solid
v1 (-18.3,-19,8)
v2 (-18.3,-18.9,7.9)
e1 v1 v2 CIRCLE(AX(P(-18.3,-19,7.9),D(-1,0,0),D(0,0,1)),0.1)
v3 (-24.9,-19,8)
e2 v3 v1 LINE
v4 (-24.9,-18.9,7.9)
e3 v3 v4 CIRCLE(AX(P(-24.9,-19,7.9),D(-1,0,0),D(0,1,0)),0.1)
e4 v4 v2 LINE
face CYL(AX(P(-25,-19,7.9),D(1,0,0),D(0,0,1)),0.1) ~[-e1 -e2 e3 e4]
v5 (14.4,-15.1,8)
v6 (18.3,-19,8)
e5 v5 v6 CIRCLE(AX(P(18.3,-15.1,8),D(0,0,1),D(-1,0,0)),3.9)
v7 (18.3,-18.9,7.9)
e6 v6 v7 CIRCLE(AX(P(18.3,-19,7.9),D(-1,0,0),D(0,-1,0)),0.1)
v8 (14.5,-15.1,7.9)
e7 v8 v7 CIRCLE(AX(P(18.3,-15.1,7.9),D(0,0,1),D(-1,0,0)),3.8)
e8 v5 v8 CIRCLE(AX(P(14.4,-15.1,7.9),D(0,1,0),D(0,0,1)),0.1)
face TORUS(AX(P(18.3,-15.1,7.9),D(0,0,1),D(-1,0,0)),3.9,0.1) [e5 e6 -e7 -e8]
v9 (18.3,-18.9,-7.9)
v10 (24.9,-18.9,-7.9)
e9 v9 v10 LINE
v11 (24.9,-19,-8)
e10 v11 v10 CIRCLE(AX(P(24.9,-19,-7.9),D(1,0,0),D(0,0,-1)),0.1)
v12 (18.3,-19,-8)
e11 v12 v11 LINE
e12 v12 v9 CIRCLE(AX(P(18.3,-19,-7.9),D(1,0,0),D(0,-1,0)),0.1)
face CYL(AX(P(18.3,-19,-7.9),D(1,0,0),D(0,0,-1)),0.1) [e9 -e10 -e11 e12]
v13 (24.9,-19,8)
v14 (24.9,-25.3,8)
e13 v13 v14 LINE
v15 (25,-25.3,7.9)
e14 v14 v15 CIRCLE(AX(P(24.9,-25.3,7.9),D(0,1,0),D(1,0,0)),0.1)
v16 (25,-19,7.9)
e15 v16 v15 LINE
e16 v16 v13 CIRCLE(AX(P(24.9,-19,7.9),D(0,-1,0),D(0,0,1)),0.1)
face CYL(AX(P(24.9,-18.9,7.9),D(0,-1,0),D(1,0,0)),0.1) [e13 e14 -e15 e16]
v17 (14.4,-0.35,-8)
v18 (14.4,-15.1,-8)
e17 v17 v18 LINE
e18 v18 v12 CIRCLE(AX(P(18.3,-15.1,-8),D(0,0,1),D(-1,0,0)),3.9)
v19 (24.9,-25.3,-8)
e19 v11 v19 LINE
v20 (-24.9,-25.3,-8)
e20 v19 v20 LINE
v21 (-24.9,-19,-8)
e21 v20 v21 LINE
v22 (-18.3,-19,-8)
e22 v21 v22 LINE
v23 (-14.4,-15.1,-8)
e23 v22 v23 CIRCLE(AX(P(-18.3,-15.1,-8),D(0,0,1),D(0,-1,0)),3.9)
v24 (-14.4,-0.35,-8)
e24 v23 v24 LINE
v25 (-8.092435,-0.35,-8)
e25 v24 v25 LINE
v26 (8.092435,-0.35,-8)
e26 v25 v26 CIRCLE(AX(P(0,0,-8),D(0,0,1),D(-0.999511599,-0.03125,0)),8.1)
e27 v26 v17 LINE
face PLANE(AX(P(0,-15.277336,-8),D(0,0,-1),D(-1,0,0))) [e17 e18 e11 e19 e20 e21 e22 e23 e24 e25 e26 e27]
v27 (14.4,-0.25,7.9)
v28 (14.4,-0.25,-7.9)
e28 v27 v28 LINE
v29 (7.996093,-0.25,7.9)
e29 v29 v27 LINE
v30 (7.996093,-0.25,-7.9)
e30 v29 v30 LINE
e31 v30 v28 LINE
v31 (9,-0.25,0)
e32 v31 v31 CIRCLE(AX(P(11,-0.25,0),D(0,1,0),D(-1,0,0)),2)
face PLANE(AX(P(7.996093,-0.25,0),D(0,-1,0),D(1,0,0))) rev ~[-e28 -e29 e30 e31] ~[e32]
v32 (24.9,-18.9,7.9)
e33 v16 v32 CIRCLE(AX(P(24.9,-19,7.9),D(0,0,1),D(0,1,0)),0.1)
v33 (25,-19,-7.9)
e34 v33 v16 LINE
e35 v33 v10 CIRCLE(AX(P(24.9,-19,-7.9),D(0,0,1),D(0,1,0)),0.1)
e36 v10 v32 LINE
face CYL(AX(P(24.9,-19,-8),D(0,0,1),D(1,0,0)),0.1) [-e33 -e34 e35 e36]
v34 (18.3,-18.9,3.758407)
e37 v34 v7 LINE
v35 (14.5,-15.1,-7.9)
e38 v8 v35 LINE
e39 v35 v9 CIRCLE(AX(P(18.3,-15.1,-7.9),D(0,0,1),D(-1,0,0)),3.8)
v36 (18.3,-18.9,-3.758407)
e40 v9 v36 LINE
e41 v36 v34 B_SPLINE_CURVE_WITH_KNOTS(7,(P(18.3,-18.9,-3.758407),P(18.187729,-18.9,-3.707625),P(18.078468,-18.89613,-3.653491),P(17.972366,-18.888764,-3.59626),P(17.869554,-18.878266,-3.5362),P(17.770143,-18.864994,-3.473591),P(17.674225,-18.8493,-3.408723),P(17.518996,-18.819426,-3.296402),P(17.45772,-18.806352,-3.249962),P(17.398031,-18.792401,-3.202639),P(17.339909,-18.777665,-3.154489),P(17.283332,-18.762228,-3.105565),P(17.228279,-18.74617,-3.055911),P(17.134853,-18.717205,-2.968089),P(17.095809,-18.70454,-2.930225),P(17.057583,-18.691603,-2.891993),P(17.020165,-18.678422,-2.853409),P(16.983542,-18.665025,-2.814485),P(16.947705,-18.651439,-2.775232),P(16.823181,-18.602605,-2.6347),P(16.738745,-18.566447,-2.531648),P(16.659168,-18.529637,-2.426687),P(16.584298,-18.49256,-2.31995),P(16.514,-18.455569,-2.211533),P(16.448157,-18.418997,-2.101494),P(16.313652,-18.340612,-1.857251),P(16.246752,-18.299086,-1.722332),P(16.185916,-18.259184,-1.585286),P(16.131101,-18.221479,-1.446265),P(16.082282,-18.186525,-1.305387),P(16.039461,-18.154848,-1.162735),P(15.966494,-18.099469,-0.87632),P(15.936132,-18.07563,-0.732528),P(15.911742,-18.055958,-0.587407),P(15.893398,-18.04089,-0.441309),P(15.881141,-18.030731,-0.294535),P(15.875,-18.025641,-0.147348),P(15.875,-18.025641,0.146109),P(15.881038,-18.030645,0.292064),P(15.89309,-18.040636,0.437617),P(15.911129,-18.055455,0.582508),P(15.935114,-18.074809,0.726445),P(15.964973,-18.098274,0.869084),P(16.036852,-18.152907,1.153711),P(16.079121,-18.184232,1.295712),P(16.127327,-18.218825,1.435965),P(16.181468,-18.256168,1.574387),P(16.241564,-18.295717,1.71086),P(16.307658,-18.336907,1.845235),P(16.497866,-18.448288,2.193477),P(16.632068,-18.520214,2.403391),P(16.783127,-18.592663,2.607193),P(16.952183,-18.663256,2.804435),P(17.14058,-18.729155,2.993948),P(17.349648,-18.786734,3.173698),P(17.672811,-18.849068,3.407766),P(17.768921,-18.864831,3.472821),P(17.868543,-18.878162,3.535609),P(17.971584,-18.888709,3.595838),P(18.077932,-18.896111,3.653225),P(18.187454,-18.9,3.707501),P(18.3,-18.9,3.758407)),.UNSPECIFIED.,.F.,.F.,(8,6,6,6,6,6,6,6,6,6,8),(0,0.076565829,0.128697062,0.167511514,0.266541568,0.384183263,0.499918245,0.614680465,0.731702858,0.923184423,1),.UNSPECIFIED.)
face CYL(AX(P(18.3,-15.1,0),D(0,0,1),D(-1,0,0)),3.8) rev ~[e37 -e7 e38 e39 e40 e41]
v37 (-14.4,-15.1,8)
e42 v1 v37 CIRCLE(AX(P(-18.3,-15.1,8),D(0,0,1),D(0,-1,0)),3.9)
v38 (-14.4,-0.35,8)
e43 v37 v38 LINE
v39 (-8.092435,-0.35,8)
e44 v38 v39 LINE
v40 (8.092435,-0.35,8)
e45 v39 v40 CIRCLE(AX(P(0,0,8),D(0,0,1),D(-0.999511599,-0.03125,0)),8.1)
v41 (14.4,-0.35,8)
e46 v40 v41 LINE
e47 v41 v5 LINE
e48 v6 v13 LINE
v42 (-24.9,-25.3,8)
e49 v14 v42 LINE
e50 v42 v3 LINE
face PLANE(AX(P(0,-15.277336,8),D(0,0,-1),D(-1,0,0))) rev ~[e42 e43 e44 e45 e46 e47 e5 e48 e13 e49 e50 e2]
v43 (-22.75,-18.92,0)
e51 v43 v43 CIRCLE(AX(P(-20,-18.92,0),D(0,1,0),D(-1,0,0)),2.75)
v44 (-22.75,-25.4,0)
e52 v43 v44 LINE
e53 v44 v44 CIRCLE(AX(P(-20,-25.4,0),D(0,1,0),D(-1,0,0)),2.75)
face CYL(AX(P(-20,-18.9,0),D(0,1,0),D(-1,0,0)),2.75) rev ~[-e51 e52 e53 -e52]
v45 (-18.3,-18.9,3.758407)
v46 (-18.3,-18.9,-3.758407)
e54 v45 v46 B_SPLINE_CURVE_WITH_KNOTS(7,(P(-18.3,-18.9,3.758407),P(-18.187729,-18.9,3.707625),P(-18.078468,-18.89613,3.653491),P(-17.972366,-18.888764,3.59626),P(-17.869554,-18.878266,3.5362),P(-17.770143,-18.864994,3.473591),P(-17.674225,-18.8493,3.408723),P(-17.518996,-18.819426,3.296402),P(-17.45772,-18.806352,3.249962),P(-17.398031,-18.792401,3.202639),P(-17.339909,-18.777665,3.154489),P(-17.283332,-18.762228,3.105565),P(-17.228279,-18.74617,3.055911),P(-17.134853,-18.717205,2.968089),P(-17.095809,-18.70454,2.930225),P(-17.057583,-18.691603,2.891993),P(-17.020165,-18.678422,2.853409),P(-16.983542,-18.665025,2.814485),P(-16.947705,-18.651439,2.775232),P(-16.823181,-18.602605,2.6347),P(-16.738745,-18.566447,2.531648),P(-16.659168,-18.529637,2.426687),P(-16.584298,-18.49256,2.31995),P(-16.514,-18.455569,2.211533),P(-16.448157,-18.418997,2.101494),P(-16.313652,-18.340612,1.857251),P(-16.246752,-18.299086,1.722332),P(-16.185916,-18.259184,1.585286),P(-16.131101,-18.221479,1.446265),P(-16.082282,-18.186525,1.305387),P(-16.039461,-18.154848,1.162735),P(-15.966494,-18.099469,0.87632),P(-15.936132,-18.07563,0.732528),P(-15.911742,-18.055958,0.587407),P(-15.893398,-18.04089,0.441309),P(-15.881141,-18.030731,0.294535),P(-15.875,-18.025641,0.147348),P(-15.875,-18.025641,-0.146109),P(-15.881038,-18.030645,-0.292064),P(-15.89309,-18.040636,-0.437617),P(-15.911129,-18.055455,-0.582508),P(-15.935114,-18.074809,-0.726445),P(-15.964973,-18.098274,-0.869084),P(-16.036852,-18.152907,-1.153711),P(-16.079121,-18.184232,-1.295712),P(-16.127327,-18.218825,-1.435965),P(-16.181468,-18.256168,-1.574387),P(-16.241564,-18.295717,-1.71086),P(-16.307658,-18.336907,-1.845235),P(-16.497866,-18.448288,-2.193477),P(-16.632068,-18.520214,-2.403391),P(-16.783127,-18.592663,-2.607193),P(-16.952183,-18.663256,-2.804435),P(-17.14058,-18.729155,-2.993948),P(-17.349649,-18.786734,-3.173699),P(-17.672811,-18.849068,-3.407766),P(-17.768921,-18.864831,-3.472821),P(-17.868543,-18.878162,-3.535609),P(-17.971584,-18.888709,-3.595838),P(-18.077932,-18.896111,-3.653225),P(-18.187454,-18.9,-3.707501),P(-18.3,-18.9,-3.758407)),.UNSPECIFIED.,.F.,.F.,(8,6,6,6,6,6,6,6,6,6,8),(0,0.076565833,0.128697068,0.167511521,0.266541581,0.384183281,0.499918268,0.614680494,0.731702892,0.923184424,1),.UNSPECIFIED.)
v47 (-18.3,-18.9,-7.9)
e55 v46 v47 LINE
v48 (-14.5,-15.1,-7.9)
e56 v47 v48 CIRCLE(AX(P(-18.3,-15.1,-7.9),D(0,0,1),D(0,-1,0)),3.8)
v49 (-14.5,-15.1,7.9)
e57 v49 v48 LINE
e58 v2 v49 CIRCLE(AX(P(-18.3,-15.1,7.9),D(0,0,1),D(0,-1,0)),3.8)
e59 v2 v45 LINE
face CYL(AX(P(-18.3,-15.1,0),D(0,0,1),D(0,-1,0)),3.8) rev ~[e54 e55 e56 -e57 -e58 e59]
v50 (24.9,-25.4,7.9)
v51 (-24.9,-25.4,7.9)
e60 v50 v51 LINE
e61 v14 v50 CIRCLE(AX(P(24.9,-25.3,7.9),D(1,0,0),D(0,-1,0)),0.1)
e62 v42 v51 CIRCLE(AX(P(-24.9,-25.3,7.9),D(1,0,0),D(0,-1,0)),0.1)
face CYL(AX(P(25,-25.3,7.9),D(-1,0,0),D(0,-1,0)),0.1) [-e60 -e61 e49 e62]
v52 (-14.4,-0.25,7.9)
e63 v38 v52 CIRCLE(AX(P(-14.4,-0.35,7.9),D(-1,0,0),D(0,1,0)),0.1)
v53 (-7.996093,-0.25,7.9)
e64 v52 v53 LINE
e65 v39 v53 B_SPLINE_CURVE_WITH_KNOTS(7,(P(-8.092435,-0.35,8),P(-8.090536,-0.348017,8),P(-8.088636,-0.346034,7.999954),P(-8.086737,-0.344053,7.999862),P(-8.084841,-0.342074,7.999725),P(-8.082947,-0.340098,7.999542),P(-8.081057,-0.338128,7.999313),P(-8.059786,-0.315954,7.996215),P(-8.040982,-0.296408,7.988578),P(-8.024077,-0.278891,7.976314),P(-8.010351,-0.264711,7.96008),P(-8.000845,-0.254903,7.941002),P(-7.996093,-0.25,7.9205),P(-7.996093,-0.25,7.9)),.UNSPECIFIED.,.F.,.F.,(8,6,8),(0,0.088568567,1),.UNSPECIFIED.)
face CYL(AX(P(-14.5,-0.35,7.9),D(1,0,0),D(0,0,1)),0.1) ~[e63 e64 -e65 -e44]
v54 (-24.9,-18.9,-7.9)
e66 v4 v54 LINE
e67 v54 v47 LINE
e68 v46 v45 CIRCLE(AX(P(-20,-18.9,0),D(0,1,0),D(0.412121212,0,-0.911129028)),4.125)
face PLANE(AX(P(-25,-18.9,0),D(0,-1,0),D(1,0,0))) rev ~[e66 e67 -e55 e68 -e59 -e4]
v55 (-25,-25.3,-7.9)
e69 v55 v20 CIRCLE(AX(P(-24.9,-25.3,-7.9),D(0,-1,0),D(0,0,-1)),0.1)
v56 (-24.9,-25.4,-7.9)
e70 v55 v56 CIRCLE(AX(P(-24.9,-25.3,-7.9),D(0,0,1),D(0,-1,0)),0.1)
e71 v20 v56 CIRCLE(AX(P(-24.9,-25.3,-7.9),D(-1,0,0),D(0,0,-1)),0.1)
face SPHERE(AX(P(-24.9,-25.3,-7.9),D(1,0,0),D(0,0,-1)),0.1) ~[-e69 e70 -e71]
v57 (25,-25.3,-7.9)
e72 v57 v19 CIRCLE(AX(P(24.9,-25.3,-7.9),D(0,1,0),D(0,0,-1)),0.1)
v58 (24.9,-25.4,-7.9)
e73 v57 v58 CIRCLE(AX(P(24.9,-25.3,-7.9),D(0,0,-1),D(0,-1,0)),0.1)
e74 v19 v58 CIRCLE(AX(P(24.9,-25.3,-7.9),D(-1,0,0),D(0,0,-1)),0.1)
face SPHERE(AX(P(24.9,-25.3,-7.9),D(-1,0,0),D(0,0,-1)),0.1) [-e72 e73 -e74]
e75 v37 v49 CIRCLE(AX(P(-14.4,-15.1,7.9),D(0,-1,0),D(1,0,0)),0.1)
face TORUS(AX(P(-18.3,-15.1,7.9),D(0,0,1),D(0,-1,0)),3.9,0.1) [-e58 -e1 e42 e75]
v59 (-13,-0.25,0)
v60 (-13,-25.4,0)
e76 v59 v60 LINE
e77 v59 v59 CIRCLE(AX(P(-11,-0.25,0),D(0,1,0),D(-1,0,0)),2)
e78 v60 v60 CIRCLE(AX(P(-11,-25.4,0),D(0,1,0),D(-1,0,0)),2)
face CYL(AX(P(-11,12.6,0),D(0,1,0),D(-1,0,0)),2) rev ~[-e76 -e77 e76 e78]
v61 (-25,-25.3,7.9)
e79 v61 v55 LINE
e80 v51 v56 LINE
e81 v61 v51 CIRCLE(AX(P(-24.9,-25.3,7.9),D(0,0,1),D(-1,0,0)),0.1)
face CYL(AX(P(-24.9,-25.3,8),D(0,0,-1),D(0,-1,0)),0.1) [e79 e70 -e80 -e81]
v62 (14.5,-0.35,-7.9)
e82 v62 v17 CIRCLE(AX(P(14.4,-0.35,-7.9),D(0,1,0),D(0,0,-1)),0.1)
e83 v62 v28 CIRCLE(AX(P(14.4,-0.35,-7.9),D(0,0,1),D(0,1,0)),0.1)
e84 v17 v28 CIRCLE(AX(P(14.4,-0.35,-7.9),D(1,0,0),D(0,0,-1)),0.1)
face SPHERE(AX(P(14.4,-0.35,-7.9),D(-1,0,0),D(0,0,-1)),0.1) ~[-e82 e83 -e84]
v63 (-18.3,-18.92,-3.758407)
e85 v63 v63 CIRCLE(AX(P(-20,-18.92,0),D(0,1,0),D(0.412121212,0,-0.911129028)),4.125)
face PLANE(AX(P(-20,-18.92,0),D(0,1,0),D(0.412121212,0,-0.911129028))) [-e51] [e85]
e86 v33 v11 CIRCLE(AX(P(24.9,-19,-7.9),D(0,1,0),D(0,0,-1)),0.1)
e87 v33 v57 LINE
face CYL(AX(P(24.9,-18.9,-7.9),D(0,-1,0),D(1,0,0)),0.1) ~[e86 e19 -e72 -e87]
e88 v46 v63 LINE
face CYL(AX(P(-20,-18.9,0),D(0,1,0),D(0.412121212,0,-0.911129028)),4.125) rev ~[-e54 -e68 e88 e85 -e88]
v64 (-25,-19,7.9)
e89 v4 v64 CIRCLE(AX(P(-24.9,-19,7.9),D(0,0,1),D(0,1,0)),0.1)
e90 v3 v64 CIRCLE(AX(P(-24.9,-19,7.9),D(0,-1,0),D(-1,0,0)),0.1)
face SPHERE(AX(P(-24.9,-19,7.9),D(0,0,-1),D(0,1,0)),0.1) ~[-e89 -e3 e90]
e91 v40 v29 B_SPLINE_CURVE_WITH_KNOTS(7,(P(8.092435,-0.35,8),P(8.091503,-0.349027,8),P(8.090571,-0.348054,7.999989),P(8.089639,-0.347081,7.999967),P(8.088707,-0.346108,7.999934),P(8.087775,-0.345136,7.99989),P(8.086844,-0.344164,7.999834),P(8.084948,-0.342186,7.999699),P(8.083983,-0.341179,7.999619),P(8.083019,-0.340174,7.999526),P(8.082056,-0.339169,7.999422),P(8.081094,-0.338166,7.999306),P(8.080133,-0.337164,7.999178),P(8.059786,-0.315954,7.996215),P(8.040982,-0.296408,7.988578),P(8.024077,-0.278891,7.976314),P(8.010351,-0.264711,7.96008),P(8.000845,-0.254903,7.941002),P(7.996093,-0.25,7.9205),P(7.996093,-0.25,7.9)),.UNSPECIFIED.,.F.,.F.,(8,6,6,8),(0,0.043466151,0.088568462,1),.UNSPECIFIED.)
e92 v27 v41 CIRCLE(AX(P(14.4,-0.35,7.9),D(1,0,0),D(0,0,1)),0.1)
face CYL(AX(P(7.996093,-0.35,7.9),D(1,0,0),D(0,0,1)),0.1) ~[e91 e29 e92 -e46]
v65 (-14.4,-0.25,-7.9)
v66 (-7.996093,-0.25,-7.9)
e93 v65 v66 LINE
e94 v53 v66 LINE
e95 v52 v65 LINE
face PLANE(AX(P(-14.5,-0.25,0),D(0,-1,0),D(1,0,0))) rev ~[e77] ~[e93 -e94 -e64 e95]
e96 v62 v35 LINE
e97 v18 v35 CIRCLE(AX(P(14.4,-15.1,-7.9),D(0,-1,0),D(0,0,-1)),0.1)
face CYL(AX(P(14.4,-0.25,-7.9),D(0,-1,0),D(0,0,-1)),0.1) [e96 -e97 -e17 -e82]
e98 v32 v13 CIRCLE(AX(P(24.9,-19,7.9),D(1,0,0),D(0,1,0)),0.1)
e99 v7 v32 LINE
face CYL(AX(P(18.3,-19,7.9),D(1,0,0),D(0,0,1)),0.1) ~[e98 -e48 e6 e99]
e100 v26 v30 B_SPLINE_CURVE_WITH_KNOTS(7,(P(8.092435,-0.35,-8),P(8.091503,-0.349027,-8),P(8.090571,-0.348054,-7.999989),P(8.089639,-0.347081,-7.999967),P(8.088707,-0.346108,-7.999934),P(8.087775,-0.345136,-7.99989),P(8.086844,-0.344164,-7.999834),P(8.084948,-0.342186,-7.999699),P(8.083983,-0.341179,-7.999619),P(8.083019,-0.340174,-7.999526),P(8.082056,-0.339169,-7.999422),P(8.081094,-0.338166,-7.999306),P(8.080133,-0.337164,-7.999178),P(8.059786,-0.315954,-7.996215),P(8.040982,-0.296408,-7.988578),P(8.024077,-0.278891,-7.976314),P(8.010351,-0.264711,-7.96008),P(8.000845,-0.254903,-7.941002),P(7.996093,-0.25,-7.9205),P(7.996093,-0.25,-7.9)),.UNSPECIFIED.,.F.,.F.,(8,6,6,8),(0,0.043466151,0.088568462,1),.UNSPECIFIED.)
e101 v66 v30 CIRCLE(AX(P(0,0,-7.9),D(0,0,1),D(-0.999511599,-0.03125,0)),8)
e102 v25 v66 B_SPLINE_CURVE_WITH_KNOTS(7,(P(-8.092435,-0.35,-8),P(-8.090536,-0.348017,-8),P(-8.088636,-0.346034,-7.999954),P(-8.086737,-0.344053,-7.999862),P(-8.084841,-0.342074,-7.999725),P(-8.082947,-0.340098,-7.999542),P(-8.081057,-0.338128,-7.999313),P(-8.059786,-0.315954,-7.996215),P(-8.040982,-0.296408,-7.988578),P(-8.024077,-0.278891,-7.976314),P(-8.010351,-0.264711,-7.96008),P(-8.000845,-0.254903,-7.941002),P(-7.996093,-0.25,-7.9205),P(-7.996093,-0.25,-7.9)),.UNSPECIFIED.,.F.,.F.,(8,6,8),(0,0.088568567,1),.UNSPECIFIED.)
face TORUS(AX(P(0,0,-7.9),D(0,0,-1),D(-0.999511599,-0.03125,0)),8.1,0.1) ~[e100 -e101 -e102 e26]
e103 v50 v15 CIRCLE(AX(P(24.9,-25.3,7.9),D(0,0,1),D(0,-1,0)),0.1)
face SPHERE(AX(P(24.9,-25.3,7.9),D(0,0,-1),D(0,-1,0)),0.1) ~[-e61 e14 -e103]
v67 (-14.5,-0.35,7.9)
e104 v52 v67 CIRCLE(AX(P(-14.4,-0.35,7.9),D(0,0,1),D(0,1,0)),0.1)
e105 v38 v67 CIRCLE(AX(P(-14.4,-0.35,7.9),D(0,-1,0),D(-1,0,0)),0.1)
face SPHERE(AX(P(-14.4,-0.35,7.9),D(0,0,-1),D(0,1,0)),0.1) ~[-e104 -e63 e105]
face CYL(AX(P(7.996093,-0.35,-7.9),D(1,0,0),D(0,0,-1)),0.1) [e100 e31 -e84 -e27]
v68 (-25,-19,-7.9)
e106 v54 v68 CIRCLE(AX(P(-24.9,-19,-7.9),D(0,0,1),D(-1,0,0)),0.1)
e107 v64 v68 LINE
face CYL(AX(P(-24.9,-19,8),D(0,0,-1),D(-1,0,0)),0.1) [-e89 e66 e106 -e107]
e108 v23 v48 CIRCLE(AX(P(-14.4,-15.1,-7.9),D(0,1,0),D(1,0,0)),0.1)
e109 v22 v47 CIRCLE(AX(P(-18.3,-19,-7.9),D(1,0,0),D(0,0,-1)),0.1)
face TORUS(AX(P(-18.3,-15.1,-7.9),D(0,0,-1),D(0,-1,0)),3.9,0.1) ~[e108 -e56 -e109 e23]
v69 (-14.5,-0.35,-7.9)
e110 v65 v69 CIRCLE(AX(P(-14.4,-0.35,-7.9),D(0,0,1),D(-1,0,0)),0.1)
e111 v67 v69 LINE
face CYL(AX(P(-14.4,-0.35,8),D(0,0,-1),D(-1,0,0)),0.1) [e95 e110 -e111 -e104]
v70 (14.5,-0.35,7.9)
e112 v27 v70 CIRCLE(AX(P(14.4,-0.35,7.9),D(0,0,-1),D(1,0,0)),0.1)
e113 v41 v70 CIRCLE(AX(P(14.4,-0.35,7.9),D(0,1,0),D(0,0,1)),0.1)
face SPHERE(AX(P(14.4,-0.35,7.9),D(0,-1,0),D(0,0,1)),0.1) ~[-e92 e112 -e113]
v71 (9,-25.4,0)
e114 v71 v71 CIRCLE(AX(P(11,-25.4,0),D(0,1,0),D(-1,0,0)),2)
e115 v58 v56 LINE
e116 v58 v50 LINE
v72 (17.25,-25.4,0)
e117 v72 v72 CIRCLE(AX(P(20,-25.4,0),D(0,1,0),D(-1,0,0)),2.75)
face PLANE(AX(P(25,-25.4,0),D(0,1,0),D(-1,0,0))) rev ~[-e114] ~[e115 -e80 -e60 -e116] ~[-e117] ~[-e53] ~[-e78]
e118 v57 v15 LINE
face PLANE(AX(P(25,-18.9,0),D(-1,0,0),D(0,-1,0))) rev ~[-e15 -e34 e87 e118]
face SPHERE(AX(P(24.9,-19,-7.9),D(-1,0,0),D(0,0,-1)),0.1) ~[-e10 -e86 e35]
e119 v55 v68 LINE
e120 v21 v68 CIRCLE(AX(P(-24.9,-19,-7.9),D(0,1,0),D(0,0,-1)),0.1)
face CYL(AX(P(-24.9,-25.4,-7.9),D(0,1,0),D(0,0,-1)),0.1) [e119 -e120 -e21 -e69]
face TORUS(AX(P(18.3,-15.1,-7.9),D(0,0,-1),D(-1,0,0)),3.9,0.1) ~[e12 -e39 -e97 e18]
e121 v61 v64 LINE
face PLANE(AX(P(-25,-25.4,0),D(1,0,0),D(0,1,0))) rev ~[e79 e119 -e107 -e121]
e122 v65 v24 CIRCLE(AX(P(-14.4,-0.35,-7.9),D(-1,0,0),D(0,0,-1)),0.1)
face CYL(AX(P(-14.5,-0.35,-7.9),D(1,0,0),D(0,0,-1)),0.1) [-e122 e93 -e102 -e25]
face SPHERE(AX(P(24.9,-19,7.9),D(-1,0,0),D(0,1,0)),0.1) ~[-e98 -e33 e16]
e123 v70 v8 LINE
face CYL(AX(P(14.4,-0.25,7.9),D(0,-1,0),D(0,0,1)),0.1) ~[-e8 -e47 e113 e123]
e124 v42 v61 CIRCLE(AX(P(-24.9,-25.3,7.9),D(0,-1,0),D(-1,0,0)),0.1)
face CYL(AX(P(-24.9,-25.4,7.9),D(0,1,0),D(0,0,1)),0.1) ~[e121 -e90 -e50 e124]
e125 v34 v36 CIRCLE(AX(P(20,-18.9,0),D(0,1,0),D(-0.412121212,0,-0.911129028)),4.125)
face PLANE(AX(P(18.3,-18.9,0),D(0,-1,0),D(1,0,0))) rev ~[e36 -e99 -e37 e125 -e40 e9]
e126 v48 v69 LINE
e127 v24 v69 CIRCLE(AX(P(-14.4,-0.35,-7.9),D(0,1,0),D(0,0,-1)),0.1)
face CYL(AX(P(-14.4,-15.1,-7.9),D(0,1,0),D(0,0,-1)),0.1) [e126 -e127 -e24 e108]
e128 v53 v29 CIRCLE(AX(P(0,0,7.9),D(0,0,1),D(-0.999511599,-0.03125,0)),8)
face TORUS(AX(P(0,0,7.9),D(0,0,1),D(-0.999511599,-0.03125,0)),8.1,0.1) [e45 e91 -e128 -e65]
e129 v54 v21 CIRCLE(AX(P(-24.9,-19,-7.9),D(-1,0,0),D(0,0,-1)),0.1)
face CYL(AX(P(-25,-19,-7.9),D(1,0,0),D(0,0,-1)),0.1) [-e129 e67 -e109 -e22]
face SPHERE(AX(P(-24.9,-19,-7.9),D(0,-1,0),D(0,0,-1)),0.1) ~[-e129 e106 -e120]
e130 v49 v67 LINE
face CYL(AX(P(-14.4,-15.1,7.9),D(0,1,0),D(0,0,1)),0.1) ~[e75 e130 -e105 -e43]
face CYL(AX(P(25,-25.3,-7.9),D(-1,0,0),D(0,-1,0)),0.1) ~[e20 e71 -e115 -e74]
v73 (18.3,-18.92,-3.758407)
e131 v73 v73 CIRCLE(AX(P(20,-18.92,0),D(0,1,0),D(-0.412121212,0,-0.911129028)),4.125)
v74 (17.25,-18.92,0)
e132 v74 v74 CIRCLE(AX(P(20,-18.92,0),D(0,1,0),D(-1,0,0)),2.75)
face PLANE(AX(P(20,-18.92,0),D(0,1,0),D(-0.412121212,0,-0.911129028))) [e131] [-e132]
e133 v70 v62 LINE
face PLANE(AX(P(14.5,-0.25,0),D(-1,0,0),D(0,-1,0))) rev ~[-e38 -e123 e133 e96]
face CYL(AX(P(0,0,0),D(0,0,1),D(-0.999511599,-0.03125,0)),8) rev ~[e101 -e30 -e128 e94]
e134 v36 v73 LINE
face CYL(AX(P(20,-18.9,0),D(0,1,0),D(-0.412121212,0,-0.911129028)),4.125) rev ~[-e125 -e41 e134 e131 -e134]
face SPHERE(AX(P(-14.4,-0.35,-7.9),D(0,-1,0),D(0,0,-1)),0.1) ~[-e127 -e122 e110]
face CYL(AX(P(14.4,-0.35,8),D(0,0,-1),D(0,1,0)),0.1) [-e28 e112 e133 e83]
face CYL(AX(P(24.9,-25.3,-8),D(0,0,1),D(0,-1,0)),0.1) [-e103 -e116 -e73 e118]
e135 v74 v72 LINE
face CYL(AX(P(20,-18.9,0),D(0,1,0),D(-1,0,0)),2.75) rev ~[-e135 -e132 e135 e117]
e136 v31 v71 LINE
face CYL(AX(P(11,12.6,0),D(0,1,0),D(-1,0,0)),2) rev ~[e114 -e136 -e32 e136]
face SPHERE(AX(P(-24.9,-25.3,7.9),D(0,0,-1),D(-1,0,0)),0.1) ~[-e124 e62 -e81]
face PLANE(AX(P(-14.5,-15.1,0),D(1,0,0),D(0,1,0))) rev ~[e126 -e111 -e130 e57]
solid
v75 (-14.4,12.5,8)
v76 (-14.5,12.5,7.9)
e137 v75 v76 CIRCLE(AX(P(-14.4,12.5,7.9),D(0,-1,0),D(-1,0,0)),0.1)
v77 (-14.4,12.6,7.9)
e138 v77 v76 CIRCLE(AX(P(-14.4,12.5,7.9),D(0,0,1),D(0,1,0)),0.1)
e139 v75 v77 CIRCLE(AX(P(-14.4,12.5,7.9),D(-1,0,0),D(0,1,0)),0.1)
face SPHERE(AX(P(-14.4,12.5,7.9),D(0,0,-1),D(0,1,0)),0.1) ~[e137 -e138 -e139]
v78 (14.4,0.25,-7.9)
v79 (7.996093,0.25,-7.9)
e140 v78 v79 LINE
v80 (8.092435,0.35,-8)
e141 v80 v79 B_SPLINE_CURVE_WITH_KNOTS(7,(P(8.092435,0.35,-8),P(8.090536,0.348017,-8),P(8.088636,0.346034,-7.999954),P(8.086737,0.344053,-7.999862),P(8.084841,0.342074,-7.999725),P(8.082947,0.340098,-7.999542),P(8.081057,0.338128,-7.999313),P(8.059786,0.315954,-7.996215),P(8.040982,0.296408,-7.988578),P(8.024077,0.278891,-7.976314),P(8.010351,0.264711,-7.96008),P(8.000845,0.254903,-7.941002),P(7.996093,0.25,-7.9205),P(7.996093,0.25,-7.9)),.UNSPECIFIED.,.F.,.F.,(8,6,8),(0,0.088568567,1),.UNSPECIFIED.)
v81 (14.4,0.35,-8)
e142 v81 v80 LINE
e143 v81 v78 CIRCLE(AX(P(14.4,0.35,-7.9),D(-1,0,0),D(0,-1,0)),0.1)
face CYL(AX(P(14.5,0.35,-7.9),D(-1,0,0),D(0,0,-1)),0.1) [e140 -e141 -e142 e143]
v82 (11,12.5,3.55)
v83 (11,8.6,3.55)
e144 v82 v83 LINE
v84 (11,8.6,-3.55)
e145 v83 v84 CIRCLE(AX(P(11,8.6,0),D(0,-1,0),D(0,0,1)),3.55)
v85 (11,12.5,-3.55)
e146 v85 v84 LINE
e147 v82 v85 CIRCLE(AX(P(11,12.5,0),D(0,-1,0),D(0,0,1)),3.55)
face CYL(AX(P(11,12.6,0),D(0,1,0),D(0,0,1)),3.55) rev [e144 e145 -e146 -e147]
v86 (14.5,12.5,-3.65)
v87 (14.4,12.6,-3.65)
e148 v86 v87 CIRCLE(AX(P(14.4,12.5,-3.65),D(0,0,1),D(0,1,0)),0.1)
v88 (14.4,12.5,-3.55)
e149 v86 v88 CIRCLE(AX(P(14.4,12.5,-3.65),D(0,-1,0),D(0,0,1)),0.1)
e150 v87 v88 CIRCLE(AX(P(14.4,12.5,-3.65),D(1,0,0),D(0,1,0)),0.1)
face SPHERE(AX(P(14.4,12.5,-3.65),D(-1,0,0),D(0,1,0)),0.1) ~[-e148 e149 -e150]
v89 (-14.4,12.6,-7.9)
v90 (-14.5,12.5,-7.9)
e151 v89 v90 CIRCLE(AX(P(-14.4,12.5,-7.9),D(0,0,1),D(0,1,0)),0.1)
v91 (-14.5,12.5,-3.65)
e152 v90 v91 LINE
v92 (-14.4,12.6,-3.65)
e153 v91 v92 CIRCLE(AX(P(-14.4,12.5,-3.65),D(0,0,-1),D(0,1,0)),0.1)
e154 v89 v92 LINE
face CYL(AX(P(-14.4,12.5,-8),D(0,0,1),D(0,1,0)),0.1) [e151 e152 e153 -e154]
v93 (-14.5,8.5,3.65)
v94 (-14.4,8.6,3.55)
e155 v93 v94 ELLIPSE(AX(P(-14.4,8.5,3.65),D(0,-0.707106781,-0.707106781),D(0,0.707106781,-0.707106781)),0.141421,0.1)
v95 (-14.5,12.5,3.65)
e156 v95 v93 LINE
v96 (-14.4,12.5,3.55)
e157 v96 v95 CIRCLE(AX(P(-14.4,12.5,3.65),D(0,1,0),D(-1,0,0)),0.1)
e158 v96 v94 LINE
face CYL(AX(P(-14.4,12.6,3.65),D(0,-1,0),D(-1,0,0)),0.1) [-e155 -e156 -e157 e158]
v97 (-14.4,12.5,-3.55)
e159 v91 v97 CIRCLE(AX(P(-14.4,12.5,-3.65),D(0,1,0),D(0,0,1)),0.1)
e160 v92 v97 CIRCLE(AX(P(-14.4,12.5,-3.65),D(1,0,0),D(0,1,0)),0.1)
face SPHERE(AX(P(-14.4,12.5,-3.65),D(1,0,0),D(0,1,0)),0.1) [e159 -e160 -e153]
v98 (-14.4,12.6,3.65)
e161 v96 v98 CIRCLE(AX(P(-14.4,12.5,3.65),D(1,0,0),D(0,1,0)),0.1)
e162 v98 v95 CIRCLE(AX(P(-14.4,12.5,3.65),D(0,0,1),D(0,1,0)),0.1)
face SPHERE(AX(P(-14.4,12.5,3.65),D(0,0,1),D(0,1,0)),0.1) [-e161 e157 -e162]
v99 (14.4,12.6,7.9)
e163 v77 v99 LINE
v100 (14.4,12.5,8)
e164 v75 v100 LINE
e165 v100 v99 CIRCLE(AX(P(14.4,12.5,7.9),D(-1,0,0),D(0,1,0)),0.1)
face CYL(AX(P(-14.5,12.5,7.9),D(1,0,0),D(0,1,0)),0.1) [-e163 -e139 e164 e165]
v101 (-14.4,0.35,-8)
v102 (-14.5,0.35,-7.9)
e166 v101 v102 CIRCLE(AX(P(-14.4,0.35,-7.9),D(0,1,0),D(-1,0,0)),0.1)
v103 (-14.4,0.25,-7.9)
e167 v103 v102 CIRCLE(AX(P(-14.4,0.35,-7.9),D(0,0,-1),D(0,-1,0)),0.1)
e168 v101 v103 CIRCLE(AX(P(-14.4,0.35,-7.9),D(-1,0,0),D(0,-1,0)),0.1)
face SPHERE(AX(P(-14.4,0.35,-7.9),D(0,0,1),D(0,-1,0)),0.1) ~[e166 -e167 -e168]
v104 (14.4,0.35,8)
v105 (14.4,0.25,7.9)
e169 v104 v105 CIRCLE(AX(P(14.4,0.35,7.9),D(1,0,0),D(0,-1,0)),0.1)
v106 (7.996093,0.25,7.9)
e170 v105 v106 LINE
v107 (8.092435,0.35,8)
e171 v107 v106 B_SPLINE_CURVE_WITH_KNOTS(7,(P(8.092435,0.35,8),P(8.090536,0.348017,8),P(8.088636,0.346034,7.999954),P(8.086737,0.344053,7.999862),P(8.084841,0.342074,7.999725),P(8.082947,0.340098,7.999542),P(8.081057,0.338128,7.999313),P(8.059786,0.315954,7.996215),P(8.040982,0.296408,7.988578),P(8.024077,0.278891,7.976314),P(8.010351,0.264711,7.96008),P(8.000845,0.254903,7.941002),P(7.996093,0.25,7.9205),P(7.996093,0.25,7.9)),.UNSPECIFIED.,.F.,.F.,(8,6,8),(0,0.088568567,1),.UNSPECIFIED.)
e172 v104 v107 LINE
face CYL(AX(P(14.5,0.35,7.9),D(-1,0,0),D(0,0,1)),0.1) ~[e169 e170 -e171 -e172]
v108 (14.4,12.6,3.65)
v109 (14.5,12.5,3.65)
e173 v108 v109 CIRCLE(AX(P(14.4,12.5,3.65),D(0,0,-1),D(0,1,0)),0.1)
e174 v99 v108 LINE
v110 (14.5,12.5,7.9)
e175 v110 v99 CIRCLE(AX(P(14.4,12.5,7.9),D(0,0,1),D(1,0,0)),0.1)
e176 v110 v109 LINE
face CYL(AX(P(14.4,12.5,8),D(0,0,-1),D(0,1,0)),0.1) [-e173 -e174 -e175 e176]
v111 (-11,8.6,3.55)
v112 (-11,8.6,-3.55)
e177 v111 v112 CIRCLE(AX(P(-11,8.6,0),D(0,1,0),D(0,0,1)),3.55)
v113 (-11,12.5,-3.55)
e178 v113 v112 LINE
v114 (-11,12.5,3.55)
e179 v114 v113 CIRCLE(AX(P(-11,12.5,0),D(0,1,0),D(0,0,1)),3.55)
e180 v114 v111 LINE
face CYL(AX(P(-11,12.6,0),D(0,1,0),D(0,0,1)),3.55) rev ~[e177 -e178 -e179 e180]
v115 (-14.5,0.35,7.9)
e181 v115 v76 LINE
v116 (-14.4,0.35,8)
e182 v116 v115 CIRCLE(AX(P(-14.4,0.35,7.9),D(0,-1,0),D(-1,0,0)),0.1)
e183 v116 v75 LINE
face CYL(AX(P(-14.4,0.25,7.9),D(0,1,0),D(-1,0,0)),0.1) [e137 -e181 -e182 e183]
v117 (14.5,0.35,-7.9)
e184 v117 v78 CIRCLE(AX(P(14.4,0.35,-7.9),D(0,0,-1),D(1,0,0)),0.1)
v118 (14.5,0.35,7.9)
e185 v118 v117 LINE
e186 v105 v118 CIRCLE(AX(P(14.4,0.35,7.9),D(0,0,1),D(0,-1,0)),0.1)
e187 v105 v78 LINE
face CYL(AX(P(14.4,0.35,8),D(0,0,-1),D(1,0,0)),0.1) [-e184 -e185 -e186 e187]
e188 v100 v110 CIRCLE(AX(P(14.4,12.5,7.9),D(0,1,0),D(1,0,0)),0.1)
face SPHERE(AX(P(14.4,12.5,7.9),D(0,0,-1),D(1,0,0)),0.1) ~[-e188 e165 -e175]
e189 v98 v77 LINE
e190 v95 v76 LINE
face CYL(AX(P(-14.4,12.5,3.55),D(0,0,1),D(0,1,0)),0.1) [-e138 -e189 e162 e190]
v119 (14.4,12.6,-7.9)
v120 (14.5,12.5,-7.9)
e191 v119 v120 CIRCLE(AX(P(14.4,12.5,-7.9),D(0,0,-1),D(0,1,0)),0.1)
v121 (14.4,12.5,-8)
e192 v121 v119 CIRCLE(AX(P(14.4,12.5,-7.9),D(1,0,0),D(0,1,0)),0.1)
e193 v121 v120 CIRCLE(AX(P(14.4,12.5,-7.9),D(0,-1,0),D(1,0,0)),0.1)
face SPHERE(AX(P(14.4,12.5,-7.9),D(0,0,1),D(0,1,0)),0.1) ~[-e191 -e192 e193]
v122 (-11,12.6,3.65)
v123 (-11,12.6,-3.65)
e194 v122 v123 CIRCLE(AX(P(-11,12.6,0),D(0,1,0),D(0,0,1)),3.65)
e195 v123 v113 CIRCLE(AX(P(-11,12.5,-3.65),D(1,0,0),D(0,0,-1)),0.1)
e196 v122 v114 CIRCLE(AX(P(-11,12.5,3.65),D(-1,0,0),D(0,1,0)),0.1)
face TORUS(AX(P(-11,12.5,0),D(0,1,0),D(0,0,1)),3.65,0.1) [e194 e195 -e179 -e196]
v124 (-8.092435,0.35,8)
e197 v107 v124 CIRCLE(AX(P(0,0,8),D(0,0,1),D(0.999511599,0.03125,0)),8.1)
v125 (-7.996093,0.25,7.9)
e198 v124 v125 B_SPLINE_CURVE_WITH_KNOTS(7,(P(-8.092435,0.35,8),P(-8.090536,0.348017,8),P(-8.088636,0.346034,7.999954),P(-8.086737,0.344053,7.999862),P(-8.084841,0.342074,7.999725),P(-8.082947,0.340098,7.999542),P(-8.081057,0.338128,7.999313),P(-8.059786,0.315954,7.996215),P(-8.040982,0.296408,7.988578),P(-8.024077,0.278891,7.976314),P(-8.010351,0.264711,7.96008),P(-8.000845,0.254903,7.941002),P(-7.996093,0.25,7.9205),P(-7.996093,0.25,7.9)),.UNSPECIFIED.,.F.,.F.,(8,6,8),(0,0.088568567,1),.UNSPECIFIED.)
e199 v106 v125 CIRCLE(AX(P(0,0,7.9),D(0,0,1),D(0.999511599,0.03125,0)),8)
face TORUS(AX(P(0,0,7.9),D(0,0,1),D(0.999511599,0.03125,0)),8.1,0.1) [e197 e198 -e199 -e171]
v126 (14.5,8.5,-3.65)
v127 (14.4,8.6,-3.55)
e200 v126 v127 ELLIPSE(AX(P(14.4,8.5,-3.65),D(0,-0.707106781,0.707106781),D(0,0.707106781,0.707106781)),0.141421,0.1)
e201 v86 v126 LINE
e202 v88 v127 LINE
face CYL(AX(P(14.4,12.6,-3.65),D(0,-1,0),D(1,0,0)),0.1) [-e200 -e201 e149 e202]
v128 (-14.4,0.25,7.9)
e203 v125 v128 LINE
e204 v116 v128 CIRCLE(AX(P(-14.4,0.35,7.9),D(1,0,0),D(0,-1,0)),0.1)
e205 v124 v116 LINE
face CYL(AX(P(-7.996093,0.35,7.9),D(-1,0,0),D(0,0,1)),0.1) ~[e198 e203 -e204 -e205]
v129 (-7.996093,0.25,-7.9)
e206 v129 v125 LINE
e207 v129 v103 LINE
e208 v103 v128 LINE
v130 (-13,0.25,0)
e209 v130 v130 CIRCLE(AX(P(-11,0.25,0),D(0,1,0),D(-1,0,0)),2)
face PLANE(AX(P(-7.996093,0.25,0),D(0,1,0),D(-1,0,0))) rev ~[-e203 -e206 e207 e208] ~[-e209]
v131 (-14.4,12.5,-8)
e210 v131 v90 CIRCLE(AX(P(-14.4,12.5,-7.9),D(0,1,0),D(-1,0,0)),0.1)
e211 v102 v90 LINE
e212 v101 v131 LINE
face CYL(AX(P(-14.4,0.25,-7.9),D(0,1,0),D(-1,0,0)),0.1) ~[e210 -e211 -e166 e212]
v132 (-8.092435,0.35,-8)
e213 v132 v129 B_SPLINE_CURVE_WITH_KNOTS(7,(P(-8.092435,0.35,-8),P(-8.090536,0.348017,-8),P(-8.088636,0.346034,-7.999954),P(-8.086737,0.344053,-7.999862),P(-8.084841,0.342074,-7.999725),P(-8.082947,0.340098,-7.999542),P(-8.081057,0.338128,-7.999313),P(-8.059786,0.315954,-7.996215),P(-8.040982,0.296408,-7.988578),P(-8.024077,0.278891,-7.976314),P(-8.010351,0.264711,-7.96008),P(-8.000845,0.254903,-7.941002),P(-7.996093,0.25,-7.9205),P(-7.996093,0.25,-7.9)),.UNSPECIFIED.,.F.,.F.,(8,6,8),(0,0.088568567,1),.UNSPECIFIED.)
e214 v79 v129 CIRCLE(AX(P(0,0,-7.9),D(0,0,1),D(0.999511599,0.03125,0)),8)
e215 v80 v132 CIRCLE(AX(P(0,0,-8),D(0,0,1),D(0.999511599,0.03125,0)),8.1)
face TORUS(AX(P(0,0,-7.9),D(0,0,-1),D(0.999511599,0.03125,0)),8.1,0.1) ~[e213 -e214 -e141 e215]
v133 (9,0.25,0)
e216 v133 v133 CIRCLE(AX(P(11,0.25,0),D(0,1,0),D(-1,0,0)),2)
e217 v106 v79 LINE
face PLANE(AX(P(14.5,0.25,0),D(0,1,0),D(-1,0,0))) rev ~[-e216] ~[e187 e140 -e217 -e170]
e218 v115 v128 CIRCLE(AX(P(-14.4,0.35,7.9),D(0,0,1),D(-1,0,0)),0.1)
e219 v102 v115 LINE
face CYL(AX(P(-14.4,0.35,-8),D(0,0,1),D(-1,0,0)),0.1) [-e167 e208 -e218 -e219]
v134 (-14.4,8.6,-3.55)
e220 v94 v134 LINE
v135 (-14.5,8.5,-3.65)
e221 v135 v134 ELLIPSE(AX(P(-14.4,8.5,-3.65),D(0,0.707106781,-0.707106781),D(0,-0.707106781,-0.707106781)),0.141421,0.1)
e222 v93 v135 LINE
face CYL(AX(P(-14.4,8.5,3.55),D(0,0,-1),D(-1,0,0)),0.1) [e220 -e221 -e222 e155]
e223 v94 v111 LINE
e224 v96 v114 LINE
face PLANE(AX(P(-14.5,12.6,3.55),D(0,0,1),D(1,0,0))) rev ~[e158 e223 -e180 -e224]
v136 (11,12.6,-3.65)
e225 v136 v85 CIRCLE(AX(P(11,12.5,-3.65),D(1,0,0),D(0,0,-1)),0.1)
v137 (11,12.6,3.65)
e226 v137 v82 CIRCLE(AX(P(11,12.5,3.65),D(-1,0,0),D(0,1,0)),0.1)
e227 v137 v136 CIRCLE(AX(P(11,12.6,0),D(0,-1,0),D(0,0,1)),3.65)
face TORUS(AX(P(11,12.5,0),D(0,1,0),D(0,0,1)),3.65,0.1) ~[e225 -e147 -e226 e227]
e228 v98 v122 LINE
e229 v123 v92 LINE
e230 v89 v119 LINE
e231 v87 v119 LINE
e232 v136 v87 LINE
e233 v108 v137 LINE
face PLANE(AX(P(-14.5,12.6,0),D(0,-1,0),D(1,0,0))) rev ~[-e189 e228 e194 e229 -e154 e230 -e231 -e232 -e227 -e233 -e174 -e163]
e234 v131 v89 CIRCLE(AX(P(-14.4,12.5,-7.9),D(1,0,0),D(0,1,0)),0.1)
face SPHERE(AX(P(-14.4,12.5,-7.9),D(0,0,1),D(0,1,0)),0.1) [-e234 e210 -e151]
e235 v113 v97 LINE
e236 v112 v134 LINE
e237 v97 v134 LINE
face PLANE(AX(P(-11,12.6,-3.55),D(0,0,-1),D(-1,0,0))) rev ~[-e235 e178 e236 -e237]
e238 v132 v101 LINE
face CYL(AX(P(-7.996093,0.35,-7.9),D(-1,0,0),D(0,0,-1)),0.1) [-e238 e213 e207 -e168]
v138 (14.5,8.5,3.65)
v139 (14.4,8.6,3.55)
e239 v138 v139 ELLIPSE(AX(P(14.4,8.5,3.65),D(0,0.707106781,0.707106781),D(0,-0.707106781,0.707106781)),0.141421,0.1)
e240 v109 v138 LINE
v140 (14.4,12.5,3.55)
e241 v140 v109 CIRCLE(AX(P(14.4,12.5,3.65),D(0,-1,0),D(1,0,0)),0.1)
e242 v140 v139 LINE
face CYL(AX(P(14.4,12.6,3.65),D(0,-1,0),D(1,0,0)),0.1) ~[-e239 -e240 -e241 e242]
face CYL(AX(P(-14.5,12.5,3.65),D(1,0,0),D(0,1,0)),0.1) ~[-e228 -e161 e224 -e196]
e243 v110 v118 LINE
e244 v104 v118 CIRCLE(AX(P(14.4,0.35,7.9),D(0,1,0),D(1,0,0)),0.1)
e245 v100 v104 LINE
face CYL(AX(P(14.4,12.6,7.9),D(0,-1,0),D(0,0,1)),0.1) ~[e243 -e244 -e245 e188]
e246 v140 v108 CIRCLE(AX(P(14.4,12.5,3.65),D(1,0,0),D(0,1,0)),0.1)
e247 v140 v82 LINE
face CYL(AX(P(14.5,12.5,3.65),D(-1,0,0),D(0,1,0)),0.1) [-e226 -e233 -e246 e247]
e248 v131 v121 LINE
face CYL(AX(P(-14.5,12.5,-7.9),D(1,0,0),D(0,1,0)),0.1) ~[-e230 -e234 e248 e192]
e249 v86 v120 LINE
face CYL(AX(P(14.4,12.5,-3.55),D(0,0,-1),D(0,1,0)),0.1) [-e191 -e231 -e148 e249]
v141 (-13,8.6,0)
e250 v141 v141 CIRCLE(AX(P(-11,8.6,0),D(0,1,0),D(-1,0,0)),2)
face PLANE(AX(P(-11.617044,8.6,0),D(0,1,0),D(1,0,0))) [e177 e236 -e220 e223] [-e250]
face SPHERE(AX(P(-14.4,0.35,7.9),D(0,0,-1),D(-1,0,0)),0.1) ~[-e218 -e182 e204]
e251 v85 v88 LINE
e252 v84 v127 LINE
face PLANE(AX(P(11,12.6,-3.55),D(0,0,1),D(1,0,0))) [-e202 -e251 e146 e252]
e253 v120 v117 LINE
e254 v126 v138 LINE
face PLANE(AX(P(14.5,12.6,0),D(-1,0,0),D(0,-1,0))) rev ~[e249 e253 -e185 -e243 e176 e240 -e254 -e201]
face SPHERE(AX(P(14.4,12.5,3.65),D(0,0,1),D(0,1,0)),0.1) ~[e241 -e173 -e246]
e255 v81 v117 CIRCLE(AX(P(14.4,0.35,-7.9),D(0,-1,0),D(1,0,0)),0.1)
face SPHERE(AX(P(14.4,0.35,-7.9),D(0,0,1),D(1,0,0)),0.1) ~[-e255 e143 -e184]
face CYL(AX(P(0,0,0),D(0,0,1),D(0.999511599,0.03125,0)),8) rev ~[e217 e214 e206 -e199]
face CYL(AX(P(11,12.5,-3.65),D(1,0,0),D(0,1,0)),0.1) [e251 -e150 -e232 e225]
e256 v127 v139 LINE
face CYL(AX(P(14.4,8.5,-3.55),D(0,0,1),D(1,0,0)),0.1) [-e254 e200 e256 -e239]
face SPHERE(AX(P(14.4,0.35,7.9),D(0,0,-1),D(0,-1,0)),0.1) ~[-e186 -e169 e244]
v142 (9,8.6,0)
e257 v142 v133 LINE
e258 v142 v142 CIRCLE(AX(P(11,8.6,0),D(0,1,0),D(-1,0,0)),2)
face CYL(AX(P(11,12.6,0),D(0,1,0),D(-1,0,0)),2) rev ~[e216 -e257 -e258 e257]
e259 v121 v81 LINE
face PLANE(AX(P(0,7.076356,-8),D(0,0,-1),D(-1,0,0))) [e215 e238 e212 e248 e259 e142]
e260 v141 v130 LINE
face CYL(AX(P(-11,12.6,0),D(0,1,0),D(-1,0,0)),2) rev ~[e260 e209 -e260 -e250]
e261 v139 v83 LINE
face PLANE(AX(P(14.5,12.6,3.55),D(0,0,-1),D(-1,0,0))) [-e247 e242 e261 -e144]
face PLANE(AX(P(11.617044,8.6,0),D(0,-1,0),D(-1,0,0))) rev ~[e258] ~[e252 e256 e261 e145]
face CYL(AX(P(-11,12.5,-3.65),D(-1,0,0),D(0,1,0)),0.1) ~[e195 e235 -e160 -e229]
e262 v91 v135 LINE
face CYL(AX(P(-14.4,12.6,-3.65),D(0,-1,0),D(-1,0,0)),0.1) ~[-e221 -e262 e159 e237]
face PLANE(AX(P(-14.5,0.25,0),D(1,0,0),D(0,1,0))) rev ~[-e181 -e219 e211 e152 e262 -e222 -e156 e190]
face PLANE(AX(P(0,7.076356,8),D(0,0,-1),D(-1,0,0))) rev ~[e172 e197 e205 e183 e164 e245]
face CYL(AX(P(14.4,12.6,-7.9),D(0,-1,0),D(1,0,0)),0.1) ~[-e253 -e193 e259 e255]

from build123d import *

# Parameters (mm, degrees)
BOSS_EXTRUDE1_DEPTH     = 8
BOSS_EXTRUDE1_2_DEPTH   = 8
SKETCH4_R               = 2.75
CUT_EXTRUDE1_DEPTH      = 42.003048667
SKETCH5_R               = 4.125
CUT_EXTRUDE2_DEPTH      = 42.003048667
CUT_EXTRUDE2_DEPTH_BACK = 0.02
SKETCH6_R               = 3.55
CUT_EXTRUDE3_DEPTH      = 4
CUT_EXTRUDE6_DEPTH      = 4
SKETCH8_R               = 2
CUT_EXTRUDE4_DEPTH      = 47.184412972
FILLET1_R               = 0.1
FILLET2_R               = 0.1


with BuildPart() as part:
    # Sketch2 → Boss-Extrude1 (new, symmetric)
    with BuildSketch(Plane.XY):
        with BuildLine():
            Line((-14.5, 12.6), (14.5, 12.6))
            Line((14.5, 12.6), (14.5, 0.25))
            Line((14.5, 0.25), (7.996092796, 0.25))
            ThreePointArc((7.996092796, 0.25), (0, 8), (-7.996092796, 0.25))
            Line((-7.996092796, 0.25), (-14.5, 0.25))
            Line((-14.5, 0.25), (-14.5, 12.6))
        make_face()
    extrude(amount=BOSS_EXTRUDE1_DEPTH, both=True)

    # Sketch6 → Cut-Extrude3 (cut)
    with BuildSketch(Plane(origin=(0, 12.6, 0), x_dir=(1, 0, 0), z_dir=(0, 1, 0))):
        with Locations((-11, 0)):
            Circle(SKETCH6_R)
        with Locations((11, 0)):
            Circle(SKETCH6_R)
    extrude(amount=-CUT_EXTRUDE3_DEPTH, mode=Mode.SUBTRACT)

    # Sketch12 → Cut-Extrude6 (cut)
    with BuildSketch(Plane(origin=(0, 12.6, 0), x_dir=(1, 0, 0), z_dir=(0, 1, 0))):
        with BuildLine():
            Line((-11, 3.55), (-14.5, 3.55))
            Line((-14.5, 3.55), (-14.5, -3.55))
            Line((-14.5, -3.55), (-11, -3.55))
            ThreePointArc((-11, -3.55), (-7.45, 0), (-11, 3.55))
        make_face()
        with BuildLine():
            Line((14.5, -3.55), (11, -3.55))
            ThreePointArc((11, -3.55), (7.45, 0), (11, 3.55))
            Line((11, 3.55), (14.5, 3.55))
            Line((14.5, 3.55), (14.5, -3.55))
        make_face()
    extrude(amount=-CUT_EXTRUDE6_DEPTH, mode=Mode.SUBTRACT)


with BuildPart() as body_2:
    # Sketch2 → Boss-Extrude1 2 (new, symmetric)
    with BuildSketch(Plane.XY):
        with BuildLine():
            Line((25, -25.4), (-25, -25.4))
            Line((-25, -25.4), (-25, -18.9))
            Line((-25, -18.9), (-18.3, -18.9))
            ThreePointArc((-18.3, -18.9), (-15.612994231, -17.787005769), (-14.5, -15.1))
            Line((-14.5, -15.1), (-14.5, -0.25))
            Line((-14.5, -0.25), (-7.996092796, -0.25))
            ThreePointArc((-7.996092796, -0.25), (0, -8), (7.996092796, -0.25))
            Line((7.996092796, -0.25), (14.5, -0.25))
            Line((14.5, -0.25), (14.5, -15.1))
            ThreePointArc((14.5, -15.1), (15.612994231, -17.787005769), (18.3, -18.9))
            Line((18.3, -18.9), (25, -18.9))
            Line((25, -18.9), (25, -25.4))
        make_face()
    extrude(amount=BOSS_EXTRUDE1_2_DEPTH, both=True)

    # Sketch4 → Cut-Extrude1 (cut, through all)
    with BuildSketch(Plane(origin=(0, -18.9, 0), x_dir=(1, 0, 0), z_dir=(0, 1, 0))):
        with Locations(Location((-20, 0, 0), (0, 0, 180))):
            Circle(SKETCH4_R)
        with Locations(Location((20, 0, 0), (0, 0, 180))):
            Circle(SKETCH4_R)
    extrude(amount=-CUT_EXTRUDE1_DEPTH, mode=Mode.SUBTRACT)

    # Sketch5 → Cut-Extrude2 (cut, two sides)
    with BuildSketch(Plane(origin=(0, -18.9, 0), x_dir=(1, 0, 0), z_dir=(0, 1, 0))) as cut_extrude2_sk:
        with Locations(Location((20, 0, 0), (0, 0, 114.33815586))):
            Circle(SKETCH5_R)
        with Locations(Location((-20, 0, 0), (0, 0, 65.66184414))):
            Circle(SKETCH5_R)
    extrude(amount=CUT_EXTRUDE2_DEPTH, mode=Mode.SUBTRACT)
    extrude(cut_extrude2_sk.sketch, amount=-CUT_EXTRUDE2_DEPTH_BACK, mode=Mode.SUBTRACT)


with BuildPart() as cut_extrude4_tool:
    # Sketch8 → Cut-Extrude4 (new, through all)
    with BuildSketch(Plane(origin=(0, 12.6, 0), x_dir=(1, 0, 0), z_dir=(0, 1, 0))):
        with Locations(Location((11, 0, 0), (0, 0, 180))):
            Circle(SKETCH8_R)
        with Locations(Location((-11, 0, 0), (0, 0, 180))):
            Circle(SKETCH8_R)
    extrude(amount=-CUT_EXTRUDE4_DEPTH)


with BuildPart() as part_1:
    add(part.part)

    # Cut-Extrude4: cut by cut_extrude4_tool
    add(cut_extrude4_tool.part, mode=Mode.SUBTRACT)

    # Fillet2
    fillet2_edges = [part_1.edges().sort_by_distance(p)[0] for p in [
        (0, 8, 8),
        (-14.5, 12.6, 5.775),
        (14.5, 12.6, 5.775),
        (14.5, 0.25, 0),
        (-14.5, 0.25, 0),
        (11.248046398, 0.25, 8),
        (14.5, 6.425, 8),
        (0, 12.6, 8),
        (14.5, 8.6, 0),
        (-14.5, 8.6, 0),
        (-7.45, 12.6, 0),
        (-14.5, 6.425, 8),
        (7.45, 12.6, 0),
        (-14.5, 12.6, -5.775),
        (14.5, 12.6, -5.775),
        (-14.5, 10.6, 3.55),
        (-12.75, 12.6, -3.55),
        (-12.75, 12.6, 3.55),
        (-14.5, 10.6, -3.55),
        (0, 12.6, -8),
        (14.5, 10.6, -3.55),
        (12.75, 12.6, -3.55),
        (12.75, 12.6, 3.55),
        (14.5, 6.425, -8),
        (14.5, 10.6, 3.55),
        (11.248046398, 0.25, -8),
        (-11.248046398, 0.25, 8),
        (0, 8, -8),
        (-11.248046398, 0.25, -8),
        (-14.5, 6.425, -8),
    ]]
    fillet(fillet2_edges, radius=FILLET2_R)


with BuildPart() as body_2_1:
    add(body_2.part)

    # Cut-Extrude4: cut by cut_extrude4_tool
    add(cut_extrude4_tool.part, mode=Mode.SUBTRACT)

    # Fillet1
    fillet1_edges = [body_2_1.edges().sort_by_distance(p)[0] for p in [
        (15.612994231, -17.787005769, 8),
        (0, -25.4, -8),
        (-25, -22.15, -8),
        (-21.65, -18.9, -8),
        (-15.612994231, -17.787005769, -8),
        (-14.5, -7.675, -8),
        (-11.248046398, -0.25, -8),
        (14.5, -7.675, 8),
        (0, -8, -8),
        (11.248046398, -0.25, -8),
        (14.5, -7.675, -8),
        (15.612994231, -17.787005769, -8),
        (21.65, -18.9, -8),
        (25, -22.15, -8),
        (11.248046398, -0.25, 8),
        (0, -8, 8),
        (25, -25.4, 0),
        (-25, -25.4, 0),
        (-25, -18.9, 0),
        (-14.5, -0.25, 0),
        (14.5, -0.25, 0),
        (25, -18.9, 0),
        (-11.248046398, -0.25, 8),
        (-14.5, -7.675, 8),
        (-15.612994231, -17.787005769, 8),
        (-21.65, -18.9, 8),
        (-25, -22.15, 8),
        (0, -25.4, 8),
        (25, -22.15, 8),
        (21.65, -18.9, 8),
    ]]
    fillet(fillet1_edges, radius=FILLET1_R)


solid = Compound([part_1.part, body_2_1.part])
